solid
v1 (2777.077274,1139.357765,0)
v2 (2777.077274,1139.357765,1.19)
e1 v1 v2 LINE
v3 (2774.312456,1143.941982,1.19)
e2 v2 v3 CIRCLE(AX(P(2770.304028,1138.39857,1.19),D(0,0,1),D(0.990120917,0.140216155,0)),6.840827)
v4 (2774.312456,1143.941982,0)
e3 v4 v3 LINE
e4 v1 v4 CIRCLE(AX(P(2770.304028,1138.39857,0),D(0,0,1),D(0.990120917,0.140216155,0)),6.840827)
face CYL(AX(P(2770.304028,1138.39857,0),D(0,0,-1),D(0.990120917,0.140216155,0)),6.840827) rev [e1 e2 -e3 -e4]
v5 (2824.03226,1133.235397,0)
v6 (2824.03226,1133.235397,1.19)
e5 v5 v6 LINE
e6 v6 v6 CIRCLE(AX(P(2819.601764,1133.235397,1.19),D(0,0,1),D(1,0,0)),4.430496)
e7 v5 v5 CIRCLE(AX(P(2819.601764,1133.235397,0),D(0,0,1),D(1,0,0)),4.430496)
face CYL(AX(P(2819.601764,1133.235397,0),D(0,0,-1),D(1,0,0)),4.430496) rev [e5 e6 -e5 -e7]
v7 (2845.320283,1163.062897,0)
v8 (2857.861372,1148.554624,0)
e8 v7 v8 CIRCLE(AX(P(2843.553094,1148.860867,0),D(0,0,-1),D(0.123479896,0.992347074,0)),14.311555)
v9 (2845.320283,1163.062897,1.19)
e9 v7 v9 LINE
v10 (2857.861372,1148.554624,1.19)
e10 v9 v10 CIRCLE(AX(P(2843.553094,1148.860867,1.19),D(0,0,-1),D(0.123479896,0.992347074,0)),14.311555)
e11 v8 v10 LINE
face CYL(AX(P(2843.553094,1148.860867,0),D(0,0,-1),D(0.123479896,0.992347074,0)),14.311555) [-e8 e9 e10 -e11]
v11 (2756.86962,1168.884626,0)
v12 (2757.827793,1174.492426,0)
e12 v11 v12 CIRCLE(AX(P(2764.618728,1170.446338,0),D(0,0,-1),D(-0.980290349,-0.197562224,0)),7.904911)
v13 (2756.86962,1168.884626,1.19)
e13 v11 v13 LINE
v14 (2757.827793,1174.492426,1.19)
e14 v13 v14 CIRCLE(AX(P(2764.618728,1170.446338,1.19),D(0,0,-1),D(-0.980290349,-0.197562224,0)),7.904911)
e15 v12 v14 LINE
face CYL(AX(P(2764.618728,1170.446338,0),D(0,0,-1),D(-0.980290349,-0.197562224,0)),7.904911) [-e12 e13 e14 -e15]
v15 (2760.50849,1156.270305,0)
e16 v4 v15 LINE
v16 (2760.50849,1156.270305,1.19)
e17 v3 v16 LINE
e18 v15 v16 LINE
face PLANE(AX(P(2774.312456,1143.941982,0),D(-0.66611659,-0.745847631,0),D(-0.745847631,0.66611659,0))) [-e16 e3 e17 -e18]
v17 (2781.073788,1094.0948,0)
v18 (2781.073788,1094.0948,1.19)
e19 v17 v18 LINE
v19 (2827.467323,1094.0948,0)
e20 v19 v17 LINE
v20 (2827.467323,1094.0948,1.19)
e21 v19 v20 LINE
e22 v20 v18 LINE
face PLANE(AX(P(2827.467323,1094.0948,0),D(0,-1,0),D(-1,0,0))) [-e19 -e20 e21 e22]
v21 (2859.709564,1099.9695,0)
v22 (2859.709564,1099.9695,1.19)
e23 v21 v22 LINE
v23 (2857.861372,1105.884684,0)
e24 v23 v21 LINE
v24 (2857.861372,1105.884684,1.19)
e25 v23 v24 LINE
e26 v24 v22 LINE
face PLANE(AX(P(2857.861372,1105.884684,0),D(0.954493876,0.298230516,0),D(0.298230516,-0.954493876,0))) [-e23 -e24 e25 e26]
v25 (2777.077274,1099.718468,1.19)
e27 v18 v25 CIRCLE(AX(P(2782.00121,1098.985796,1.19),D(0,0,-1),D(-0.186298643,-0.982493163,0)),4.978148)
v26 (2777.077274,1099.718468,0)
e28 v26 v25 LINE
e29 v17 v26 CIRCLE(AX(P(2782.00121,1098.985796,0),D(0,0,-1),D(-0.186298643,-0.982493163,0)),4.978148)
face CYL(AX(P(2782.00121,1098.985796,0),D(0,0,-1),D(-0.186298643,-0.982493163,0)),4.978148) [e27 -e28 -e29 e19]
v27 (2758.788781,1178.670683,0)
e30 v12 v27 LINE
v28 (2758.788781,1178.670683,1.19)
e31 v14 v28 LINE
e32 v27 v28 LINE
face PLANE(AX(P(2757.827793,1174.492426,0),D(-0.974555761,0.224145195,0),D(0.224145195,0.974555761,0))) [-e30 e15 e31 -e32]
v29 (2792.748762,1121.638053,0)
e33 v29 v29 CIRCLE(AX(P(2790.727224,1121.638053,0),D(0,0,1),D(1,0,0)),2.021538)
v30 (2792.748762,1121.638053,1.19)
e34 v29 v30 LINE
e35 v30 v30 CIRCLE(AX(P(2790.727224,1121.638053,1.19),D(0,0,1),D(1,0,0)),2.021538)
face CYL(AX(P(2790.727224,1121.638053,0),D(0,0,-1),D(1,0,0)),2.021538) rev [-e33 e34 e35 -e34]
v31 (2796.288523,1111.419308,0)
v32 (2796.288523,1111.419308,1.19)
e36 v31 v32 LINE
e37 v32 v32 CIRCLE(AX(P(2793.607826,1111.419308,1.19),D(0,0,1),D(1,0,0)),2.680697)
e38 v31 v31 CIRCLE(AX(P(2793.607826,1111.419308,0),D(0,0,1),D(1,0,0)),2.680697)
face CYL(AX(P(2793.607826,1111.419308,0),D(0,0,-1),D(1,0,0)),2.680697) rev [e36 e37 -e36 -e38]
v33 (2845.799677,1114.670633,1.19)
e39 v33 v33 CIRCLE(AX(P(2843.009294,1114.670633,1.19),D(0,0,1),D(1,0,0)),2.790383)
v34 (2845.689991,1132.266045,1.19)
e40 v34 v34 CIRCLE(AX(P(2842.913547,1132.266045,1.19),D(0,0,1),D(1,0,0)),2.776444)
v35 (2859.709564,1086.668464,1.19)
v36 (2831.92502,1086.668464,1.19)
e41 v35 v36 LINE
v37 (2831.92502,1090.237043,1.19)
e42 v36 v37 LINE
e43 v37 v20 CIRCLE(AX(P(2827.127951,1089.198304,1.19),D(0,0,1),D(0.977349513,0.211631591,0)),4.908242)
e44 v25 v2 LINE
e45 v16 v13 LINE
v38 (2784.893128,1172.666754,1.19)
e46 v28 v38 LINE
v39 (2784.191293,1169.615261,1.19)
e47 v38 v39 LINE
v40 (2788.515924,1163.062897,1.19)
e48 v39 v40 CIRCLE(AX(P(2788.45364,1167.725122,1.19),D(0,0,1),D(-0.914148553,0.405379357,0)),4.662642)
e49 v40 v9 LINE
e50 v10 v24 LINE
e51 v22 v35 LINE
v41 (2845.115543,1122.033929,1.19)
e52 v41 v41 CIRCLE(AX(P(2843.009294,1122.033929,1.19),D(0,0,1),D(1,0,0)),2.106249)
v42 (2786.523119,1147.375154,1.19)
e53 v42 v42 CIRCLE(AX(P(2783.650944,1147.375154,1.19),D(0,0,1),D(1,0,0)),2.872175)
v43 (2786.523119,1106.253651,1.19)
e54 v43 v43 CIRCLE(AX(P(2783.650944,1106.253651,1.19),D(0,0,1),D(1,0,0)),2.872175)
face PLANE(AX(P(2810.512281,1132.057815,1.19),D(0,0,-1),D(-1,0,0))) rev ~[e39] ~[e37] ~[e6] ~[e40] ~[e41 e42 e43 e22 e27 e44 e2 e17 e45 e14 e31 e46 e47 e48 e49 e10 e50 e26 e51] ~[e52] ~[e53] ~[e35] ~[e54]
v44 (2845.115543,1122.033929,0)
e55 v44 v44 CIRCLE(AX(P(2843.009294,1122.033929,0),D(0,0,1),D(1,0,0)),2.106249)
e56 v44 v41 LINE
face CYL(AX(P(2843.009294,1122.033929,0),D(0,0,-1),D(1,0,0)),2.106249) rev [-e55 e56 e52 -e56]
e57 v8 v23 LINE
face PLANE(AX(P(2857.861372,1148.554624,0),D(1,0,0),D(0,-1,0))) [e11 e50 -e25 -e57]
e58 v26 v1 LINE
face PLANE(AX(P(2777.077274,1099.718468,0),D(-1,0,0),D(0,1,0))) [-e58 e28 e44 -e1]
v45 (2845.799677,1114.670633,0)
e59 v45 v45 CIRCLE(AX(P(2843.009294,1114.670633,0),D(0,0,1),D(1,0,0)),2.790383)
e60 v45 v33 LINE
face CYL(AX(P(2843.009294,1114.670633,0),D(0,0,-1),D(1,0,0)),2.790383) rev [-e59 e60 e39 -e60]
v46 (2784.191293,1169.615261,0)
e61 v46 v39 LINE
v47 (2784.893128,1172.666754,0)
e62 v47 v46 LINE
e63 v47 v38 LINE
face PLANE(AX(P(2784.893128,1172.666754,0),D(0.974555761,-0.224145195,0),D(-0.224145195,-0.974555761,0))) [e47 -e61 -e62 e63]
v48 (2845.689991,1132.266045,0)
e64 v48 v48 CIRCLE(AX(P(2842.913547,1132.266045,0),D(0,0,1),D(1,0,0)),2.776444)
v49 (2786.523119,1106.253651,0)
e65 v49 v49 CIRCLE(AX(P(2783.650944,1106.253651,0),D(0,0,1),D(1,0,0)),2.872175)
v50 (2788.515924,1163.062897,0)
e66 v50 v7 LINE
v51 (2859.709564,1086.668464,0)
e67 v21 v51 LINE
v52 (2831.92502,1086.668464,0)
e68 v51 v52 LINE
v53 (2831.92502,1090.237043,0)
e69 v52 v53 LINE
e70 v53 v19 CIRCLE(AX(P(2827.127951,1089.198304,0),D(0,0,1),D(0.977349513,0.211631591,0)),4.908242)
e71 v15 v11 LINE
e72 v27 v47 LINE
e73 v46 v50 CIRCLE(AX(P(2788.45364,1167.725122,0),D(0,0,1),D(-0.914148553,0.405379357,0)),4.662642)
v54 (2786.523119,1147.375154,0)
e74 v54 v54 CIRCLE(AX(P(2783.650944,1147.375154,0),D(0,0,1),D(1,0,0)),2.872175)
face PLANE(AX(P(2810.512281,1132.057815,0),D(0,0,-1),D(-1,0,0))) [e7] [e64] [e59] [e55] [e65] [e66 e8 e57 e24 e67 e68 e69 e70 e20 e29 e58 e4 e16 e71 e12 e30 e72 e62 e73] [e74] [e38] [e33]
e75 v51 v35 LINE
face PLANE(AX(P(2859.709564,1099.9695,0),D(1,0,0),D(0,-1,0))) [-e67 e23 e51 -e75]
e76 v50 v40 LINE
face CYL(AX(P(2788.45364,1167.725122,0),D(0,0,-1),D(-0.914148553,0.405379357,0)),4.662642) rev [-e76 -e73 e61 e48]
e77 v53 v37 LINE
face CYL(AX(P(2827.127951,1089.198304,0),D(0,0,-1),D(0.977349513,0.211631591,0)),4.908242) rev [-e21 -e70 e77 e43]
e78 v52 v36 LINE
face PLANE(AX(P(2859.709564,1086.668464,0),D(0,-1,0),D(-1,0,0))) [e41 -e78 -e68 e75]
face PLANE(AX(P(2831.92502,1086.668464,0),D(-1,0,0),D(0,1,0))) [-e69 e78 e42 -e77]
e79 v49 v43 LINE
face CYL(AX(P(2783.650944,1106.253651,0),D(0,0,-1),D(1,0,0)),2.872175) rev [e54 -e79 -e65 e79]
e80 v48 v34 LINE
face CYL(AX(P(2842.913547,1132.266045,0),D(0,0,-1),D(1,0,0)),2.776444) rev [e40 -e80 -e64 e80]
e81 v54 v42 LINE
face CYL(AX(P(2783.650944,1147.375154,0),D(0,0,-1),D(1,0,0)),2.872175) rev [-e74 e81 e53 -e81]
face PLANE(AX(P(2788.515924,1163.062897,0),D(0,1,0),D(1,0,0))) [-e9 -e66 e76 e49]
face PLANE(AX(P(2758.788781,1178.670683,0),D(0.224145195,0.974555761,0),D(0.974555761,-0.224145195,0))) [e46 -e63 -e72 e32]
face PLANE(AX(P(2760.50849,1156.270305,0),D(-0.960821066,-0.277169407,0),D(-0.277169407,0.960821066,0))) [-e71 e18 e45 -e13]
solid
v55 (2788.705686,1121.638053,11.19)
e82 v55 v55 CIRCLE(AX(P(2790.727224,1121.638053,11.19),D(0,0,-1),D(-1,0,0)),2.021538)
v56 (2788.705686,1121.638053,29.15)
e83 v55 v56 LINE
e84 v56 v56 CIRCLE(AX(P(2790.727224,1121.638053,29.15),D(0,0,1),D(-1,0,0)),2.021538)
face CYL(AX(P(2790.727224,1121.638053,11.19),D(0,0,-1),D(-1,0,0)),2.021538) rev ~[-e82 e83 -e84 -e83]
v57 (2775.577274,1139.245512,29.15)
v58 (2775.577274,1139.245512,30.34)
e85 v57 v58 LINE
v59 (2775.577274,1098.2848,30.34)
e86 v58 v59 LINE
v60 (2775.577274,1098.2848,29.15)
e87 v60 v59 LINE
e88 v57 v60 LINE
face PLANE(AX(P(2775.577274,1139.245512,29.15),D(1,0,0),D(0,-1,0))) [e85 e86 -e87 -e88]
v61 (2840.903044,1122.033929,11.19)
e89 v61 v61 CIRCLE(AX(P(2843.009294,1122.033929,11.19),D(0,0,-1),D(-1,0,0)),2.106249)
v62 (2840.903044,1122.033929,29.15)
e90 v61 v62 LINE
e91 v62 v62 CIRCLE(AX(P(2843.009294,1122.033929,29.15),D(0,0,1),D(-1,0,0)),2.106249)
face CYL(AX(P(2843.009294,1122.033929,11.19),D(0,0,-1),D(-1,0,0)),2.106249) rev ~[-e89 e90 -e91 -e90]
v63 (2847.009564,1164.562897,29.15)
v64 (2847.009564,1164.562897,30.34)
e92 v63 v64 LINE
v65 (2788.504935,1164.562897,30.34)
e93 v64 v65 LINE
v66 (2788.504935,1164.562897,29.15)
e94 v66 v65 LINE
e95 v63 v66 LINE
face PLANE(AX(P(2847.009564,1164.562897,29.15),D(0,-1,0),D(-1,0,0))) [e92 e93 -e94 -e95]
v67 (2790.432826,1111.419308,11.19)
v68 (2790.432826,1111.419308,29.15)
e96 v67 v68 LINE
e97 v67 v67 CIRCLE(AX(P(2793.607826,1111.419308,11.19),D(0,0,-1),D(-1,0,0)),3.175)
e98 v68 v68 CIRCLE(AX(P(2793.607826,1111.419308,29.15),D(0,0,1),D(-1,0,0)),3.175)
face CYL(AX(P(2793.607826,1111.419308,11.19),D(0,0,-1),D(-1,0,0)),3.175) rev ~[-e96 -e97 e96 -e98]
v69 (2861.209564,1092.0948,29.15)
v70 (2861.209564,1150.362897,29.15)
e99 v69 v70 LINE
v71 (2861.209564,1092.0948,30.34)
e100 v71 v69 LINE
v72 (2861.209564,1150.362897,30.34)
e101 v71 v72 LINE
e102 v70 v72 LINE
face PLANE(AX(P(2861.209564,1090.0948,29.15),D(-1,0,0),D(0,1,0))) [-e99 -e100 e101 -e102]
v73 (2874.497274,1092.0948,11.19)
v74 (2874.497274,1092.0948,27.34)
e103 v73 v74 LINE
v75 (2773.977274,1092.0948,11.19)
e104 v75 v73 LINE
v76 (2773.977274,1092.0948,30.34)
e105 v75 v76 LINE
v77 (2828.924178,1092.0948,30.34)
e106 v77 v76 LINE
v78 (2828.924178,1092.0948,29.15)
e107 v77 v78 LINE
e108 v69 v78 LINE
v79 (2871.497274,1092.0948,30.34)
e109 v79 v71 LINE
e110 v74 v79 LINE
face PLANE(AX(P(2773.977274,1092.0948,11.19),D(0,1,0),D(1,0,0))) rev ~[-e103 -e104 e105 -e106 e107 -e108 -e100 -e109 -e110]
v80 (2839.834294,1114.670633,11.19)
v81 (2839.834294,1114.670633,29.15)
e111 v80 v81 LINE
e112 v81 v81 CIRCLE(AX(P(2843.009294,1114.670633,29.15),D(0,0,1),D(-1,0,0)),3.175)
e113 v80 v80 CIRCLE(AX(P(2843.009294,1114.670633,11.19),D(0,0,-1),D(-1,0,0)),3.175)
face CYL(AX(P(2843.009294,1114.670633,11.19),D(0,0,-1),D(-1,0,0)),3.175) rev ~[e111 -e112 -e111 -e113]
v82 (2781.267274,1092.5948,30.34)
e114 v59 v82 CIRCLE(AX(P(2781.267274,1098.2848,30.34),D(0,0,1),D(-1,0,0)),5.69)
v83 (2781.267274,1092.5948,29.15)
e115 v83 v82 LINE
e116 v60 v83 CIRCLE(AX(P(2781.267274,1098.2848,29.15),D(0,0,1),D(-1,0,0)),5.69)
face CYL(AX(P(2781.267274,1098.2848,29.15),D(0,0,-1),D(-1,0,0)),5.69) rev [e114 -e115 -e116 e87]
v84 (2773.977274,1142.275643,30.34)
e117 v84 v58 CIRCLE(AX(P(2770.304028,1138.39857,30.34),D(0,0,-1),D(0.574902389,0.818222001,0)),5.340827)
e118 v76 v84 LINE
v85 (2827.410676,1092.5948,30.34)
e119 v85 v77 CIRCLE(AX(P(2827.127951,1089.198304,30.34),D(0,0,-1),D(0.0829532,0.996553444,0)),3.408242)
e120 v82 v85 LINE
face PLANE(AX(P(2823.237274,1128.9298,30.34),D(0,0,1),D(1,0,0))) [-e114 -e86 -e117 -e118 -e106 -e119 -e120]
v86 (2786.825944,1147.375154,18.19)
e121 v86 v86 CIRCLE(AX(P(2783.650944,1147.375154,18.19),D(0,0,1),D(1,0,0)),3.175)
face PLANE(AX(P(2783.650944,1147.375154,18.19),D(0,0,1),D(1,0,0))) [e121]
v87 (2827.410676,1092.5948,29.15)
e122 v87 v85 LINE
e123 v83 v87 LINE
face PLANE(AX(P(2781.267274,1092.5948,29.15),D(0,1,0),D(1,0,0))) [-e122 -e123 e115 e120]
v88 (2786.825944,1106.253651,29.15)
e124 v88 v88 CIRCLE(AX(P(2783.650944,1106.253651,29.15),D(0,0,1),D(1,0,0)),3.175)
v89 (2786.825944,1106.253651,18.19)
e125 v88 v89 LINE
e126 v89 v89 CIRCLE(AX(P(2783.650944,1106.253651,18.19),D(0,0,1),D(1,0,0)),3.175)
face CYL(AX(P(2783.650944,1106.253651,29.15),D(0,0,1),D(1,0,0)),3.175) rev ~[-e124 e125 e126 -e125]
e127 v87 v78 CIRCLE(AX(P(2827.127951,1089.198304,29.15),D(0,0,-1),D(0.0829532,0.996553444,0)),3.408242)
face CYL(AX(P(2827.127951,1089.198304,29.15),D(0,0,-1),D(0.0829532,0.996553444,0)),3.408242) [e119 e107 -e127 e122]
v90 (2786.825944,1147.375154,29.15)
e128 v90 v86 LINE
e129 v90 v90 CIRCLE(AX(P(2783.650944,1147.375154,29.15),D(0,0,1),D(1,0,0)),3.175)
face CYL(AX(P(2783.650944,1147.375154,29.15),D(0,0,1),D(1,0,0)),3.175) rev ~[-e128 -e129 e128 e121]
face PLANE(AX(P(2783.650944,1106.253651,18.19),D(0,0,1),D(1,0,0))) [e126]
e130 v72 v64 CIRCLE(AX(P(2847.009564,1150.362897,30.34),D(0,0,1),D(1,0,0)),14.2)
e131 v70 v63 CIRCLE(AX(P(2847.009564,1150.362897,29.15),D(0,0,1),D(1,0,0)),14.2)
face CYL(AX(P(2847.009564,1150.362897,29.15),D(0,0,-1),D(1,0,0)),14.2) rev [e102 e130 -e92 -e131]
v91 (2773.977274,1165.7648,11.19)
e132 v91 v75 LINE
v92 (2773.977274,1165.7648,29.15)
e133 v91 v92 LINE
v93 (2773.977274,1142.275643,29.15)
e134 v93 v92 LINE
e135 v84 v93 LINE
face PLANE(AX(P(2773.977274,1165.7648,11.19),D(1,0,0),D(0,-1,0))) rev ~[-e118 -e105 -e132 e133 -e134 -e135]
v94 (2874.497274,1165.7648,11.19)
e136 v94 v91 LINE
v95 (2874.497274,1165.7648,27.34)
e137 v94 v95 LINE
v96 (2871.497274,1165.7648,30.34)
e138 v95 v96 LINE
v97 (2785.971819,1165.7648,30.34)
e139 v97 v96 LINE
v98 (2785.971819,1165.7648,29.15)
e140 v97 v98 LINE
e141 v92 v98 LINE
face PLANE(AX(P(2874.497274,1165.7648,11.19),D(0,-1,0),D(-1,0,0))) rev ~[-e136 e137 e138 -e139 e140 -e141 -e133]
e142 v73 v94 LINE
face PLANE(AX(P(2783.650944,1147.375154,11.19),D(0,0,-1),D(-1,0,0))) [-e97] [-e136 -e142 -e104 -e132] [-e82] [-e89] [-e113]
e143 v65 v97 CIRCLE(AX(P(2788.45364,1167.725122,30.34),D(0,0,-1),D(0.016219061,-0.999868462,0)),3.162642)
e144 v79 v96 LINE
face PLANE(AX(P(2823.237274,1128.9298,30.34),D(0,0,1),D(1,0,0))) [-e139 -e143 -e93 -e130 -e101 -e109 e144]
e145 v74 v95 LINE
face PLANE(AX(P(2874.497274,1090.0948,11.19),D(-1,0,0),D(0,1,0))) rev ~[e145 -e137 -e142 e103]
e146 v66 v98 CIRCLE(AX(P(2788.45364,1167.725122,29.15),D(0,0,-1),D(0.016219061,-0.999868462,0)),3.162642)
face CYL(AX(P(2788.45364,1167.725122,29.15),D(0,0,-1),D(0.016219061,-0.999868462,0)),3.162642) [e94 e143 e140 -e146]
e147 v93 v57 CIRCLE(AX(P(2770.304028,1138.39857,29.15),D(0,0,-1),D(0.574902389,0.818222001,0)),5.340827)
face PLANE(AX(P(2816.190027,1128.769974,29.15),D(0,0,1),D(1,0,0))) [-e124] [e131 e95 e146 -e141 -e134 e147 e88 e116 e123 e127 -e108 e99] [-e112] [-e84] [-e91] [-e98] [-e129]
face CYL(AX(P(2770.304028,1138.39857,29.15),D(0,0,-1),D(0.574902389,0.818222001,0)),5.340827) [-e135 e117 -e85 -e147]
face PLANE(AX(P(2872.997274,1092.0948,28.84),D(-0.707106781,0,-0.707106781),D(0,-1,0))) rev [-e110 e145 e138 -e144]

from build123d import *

# Parameters (mm, degrees)
CROQUIS1_R              = 4.430496459
CROQUIS1_R_2            = 2.021537648
CROQUIS1_R_3            = 2.872174668
CROQUIS1_R_4            = 2.680697474
CROQUIS1_R_5            = 2.776444448
CROQUIS1_R_6            = 2.106249137
CROQUIS1_R_7            = 2.790383016
SALIENTE_EXTRUIR1_DEPTH = 1.19
CROQUIS7_W              = 102.52
CROQUIS7_H              = 77.67
SALIENTE_EXTRUIR2_DEPTH = 19.15
CROQUIS8_R              = 2.021537648
CROQUIS8_R_2            = 3.175
CROQUIS8_R_3            = 2.106249137
CORTAR_EXTRUIR3_DEPTH   = 3107.825691909
CROQUIS8_7_R            = 2.856101073
CROQUIS8_7_R_2          = 2.872174668
CORTAR_EXTRUIR4_DEPTH   = 19.15
CROQUIS12_R             = 2.872174668
CROQUIS12_R_2           = 2.856101073
SALIENTE_EXTRUIR3_DEPTH = 7
CORTAR_EXTRUIR8_START   = -1.19
CROQUIS13_R             = 2.856101073
CROQUIS13_R_2           = 2.021537648
CROQUIS13_R_3           = 3.175
CROQUIS13_R_4           = 2.106249137
CROQUIS13_R_5           = 2.872174668
CORTAR_EXTRUIR8_DEPTH   = 1.19
CORTAR_EXTRUIR9_DEPTH   = 3107.825691909
CROQUIS15_R             = 3.175
CORTAR_EXTRUIR10_DEPTH  = 10.96
CHAFL_N1_SIZE           = 3


with BuildPart() as part:
    # Croquis1 → Saliente-Extruir1 (new body)
    with BuildSketch(Plane.XY):
        with BuildLine():
            Line((2788.515923591, 1163.062896503), (2845.320282862, 1163.062896503))
            ThreePointArc((2845.320282862, 1163.062896503), (2854.380265752, 1158.219977336), (2857.861371877, 1148.554623946))
            Line((2857.861371877, 1148.554623946), (2857.861371877, 1105.884683704))
            Line((2857.861371877, 1105.884683704), (2859.709564321, 1099.969499723))
            Line((2859.709564321, 1099.969499723), (2859.709564321, 1086.668463787))
            Line((2859.709564321, 1086.668463787), (2831.925019811, 1086.668463787))
            Line((2831.925019811, 1086.668463787), (2831.925019811, 1090.237043102))
            ThreePointArc((2831.925019811, 1090.237043102), (2830.339855276, 1092.909707682), (2827.46732338, 1094.094799688))
            Line((2827.46732338, 1094.094799688), (2781.073788136, 1094.094799688))
            ThreePointArc((2781.073788136, 1094.094799688), (2777.943377157, 1096.10205762), (2777.077273901, 1099.718467781))
            Line((2777.077273901, 1099.718467781), (2777.077273901, 1139.357764533))
            ThreePointArc((2777.077273901, 1139.357764533), (2776.16191908, 1141.931561181), (2774.31245647, 1143.941981956))
            Line((2774.31245647, 1143.941981956), (2760.508490421, 1156.27030536))
            Line((2760.508490421, 1156.27030536), (2756.869619555, 1168.884626052))
            ThreePointArc((2756.869619555, 1168.884626052), (2756.826740412, 1171.777711215), (2757.827792947, 1174.492425601))
            Line((2757.827792947, 1174.492425601), (2758.788780948, 1178.67068333))
            Line((2758.788780948, 1178.67068333), (2784.893128388, 1172.66675387))
            Line((2784.893128388, 1172.66675387), (2784.19129322, 1169.615260811))
            ThreePointArc((2784.19129322, 1169.615260811), (2784.56217485, 1165.156713392), (2788.515923591, 1163.062896503))
        make_face()
        with Locations((2819.601763615, 1133.235396685)):
            Circle(CROQUIS1_R, mode=Mode.SUBTRACT)
        with Locations((2790.727223865, 1121.638053324)):
            Circle(CROQUIS1_R_2, mode=Mode.SUBTRACT)
        with Locations((2783.65094449, 1147.375154376)):
            Circle(CROQUIS1_R_3, mode=Mode.SUBTRACT)
        with Locations((2793.607825607, 1111.419307874)):
            Circle(CROQUIS1_R_4, mode=Mode.SUBTRACT)
        with Locations((2783.65094449, 1106.253651095)):
            Circle(CROQUIS1_R_3, mode=Mode.SUBTRACT)
        with Locations((2842.913546585, 1132.266044758)):
            Circle(CROQUIS1_R_5, mode=Mode.SUBTRACT)
        with Locations((2843.009293559, 1122.033928625)):
            Circle(CROQUIS1_R_6, mode=Mode.SUBTRACT)
        with Locations((2843.009293559, 1114.670632569)):
            Circle(CROQUIS1_R_7, mode=Mode.SUBTRACT)
    extrude(amount=SALIENTE_EXTRUIR1_DEPTH)


with BuildPart() as body_2:
    # Croquis7 → Saliente-Extruir2 (new body)
    with BuildSketch(Plane.XY.offset(11.19)):
        with Locations((2823.237273901, 1128.929799688)):
            Rectangle(CROQUIS7_W, CROQUIS7_H)
    extrude(amount=SALIENTE_EXTRUIR2_DEPTH)

    # Croquis8 → Cortar-Extruir3 (cut, through all)
    with BuildSketch(Plane(origin=(0, 0, 11.19), x_dir=(-1, 0, 0), z_dir=(0, 0, -1))):
        with Locations((-2790.727223865, 1121.638053324)):
            Circle(CROQUIS8_R)
        with Locations((-2793.607825607, 1111.419307874)):
            Circle(CROQUIS8_R_2)
        with Locations((-2843.009293559, 1122.033928625)):
            Circle(CROQUIS8_R_3)
        with Locations((-2843.009293559, 1114.670632569)):
            Circle(CROQUIS8_R_2)
    extrude(amount=-CORTAR_EXTRUIR3_DEPTH, mode=Mode.SUBTRACT)

    # Croquis8<7> → Cortar-Extruir4 (cut)
    with BuildSketch(Plane(origin=(0, 0, 11.19), x_dir=(-1, 0, 0), z_dir=(0, 0, -1))):
        with Locations((-2783.65094449, 1106.253651095)):
            Circle(CROQUIS8_7_R)
        with Locations((-2783.65094449, 1147.375154376)):
            Circle(CROQUIS8_7_R_2)
    extrude(amount=-CORTAR_EXTRUIR4_DEPTH, mode=Mode.SUBTRACT)

    # Croquis12 → Saliente-Extruir3 (add)
    with BuildSketch(Plane(origin=(0, 0, 11.19), x_dir=(-1, 0, 0), z_dir=(0, 0, -1))):
        with Locations((-2783.65094449, 1147.375154376)):
            Circle(CROQUIS12_R)
        with Locations((-2783.65094449, 1106.253651095)):
            Circle(CROQUIS12_R_2)
    extrude(amount=-SALIENTE_EXTRUIR3_DEPTH)

    # Croquis13 → Cortar-Extruir8 (cut)
    # profile 1 of 3: a face of its own
    with BuildSketch(Plane.XY.offset(30.34).offset(CORTAR_EXTRUIR8_START)):
        with BuildLine():
            Line((2831.953626457, 1090.094799688), (2859.709564321, 1090.094799688))
            Line((2859.709564321, 1090.094799688), (2859.709564321, 1150.362896503))
            ThreePointArc((2859.709564321, 1150.362896503), (2855.989820443, 1159.343152624), (2847.009564321, 1163.062896503))
            Line((2847.009564321, 1163.062896503), (2788.515923591, 1163.062896503))
            ThreePointArc((2788.515923591, 1163.062896503), (2785.1646573, 1164.420153501), (2783.791167513, 1167.764799688))
            Line((2783.791167513, 1167.764799688), (2771.977273901, 1167.764799688))
            Line((2771.977273901, 1167.764799688), (2771.977273901, 1146.027533733))
            Line((2771.977273901, 1146.027533733), (2774.31245647, 1143.941981956))
            ThreePointArc((2774.31245647, 1143.941981956), (2776.16191908, 1141.931561181), (2777.077273901, 1139.357764533))
            Line((2777.077273901, 1139.357764533), (2777.077273901, 1098.284799688))
            ThreePointArc((2777.077273901, 1098.284799688), (2778.304496488, 1095.322022275), (2781.267273901, 1094.094799688))
            Line((2781.267273901, 1094.094799688), (2827.46732338, 1094.094799688))
            ThreePointArc((2827.46732338, 1094.094799688), (2830.394360406, 1092.86182908), (2831.953626457, 1090.094799688))
        make_face()
        with Locations(Location((2783.65094449, 1106.253651095, 0), (0, 0, 180))):
            Circle(CROQUIS13_R, mode=Mode.SUBTRACT)
        with Locations(Location((2790.727223865, 1121.638053324, 0), (0, 0, 180))):
            Circle(CROQUIS13_R_2, mode=Mode.SUBTRACT)
        with Locations(Location((2793.607825607, 1111.419307874, 0), (0, 0, 180))):
            Circle(CROQUIS13_R_3, mode=Mode.SUBTRACT)
        with Locations(Location((2843.009293559, 1114.670632569, 0), (0, 0, 180))):
            Circle(CROQUIS13_R_3, mode=Mode.SUBTRACT)
        with Locations(Location((2843.009293559, 1122.033928625, 0), (0, 0, 180))):
            Circle(CROQUIS13_R_4, mode=Mode.SUBTRACT)
        with Locations(Location((2783.65094449, 1147.375154376, 0), (0, 0, 180))):
            Circle(CROQUIS13_R_5, mode=Mode.SUBTRACT)
    # profile 2 of 3: a face of its own
    with BuildSketch(Plane.XY.offset(30.34).offset(CORTAR_EXTRUIR8_START)):
        with BuildLine():
            Line((2859.709564321, 1150.362896503), (2859.709564321, 1090.094799688))
            Line((2859.709564321, 1090.094799688), (2861.209564321, 1090.094799688))
            Line((2861.209564321, 1090.094799688), (2861.209564321, 1150.362896503))
            ThreePointArc((2861.209564321, 1150.362896503), (2857.050480614, 1160.403812796), (2847.009564321, 1164.562896503))
            Line((2847.009564321, 1164.562896503), (2788.504935412, 1164.562896503))
            ThreePointArc((2788.504935412, 1164.562896503), (2786.221426595, 1165.484692718), (2785.291247589, 1167.764799688))
            Line((2785.291247589, 1167.764799688), (2783.791167513, 1167.764799688))
            ThreePointArc((2783.791167513, 1167.764799688), (2785.1646573, 1164.420153501), (2788.515923591, 1163.062896503))
            Line((2788.515923591, 1163.062896503), (2847.009564321, 1163.062896503))
            ThreePointArc((2847.009564321, 1163.062896503), (2855.989820443, 1159.343152624), (2859.709564321, 1150.362896503))
        make_face()
    # profile 3 of 3: a face of its own
    with BuildSketch(Plane.XY.offset(30.34).offset(CORTAR_EXTRUIR8_START)):
        with BuildLine():
            Line((2830.41617467, 1090.094799688), (2831.953626457, 1090.094799688))
            ThreePointArc((2831.953626457, 1090.094799688), (2830.394360406, 1092.86182908), (2827.46732338, 1094.094799688))
            Line((2827.46732338, 1094.094799688), (2781.267273901, 1094.094799688))
            ThreePointArc((2781.267273901, 1094.094799688), (2778.304496488, 1095.322022275), (2777.077273901, 1098.284799688))
            Line((2777.077273901, 1098.284799688), (2777.077273901, 1139.357764533))
            ThreePointArc((2777.077273901, 1139.357764533), (2776.16191908, 1141.931561181), (2774.31245647, 1143.941981956))
            Line((2774.31245647, 1143.941981956), (2771.977273901, 1146.027533733))
            Line((2771.977273901, 1146.027533733), (2771.977273901, 1144.016399101))
            Line((2771.977273901, 1144.016399101), (2773.374482197, 1142.768552238))
            ThreePointArc((2773.374482197, 1142.768552238), (2774.832525087, 1141.230026801), (2775.577273901, 1139.245512051))
            Line((2775.577273901, 1139.245512051), (2775.577273901, 1098.284799688))
            ThreePointArc((2775.577273901, 1098.284799688), (2777.243836316, 1094.261362103), (2781.267273901, 1092.594799688))
            Line((2781.267273901, 1092.594799688), (2827.41067607, 1092.594799688))
            ThreePointArc((2827.41067607, 1092.594799688), (2829.307496614, 1091.818551917), (2830.41617467, 1090.094799688))
        make_face()
    extrude(amount=CORTAR_EXTRUIR8_DEPTH, mode=Mode.SUBTRACT)

    # Croquis14 → Cortar-Extruir9 (cut, through all)
    with BuildSketch(Plane(origin=(0, 0, 11.19), x_dir=(-1, 0, 0), z_dir=(0, 0, -1))):
        Polygon((-2773.977273901, 1165.764799688), (-2773.977273901, 1092.094799688), (-2874.497273901, 1092.094799688), (-2874.497273901, 1090.094799688), (-2771.977273901, 1090.094799688), (-2771.977273901, 1167.764799688), (-2874.497273901, 1167.764799688), (-2874.497273901, 1165.764799688), align=None)
    extrude(amount=-CORTAR_EXTRUIR9_DEPTH, mode=Mode.SUBTRACT)

    # Croquis15 → Cortar-Extruir10 (cut)
    with BuildSketch(Plane.XY.offset(29.15)):
        with Locations((2783.65094449, 1147.375154376)):
            Circle(CROQUIS15_R)
        with Locations((2783.65094449, 1106.253651095)):
            Circle(CROQUIS15_R)
    extrude(amount=-CORTAR_EXTRUIR10_DEPTH, mode=Mode.SUBTRACT)

    # Chaflán1
    chafl_n1_edges = [body_2.edges().sort_by_distance(p)[0] for p in [
        (2874.497273901, 1128.929799688, 30.34),
    ]]
    chamfer(chafl_n1_edges, length=CHAFL_N1_SIZE)


solid = Compound([part.part, body_2.part])
